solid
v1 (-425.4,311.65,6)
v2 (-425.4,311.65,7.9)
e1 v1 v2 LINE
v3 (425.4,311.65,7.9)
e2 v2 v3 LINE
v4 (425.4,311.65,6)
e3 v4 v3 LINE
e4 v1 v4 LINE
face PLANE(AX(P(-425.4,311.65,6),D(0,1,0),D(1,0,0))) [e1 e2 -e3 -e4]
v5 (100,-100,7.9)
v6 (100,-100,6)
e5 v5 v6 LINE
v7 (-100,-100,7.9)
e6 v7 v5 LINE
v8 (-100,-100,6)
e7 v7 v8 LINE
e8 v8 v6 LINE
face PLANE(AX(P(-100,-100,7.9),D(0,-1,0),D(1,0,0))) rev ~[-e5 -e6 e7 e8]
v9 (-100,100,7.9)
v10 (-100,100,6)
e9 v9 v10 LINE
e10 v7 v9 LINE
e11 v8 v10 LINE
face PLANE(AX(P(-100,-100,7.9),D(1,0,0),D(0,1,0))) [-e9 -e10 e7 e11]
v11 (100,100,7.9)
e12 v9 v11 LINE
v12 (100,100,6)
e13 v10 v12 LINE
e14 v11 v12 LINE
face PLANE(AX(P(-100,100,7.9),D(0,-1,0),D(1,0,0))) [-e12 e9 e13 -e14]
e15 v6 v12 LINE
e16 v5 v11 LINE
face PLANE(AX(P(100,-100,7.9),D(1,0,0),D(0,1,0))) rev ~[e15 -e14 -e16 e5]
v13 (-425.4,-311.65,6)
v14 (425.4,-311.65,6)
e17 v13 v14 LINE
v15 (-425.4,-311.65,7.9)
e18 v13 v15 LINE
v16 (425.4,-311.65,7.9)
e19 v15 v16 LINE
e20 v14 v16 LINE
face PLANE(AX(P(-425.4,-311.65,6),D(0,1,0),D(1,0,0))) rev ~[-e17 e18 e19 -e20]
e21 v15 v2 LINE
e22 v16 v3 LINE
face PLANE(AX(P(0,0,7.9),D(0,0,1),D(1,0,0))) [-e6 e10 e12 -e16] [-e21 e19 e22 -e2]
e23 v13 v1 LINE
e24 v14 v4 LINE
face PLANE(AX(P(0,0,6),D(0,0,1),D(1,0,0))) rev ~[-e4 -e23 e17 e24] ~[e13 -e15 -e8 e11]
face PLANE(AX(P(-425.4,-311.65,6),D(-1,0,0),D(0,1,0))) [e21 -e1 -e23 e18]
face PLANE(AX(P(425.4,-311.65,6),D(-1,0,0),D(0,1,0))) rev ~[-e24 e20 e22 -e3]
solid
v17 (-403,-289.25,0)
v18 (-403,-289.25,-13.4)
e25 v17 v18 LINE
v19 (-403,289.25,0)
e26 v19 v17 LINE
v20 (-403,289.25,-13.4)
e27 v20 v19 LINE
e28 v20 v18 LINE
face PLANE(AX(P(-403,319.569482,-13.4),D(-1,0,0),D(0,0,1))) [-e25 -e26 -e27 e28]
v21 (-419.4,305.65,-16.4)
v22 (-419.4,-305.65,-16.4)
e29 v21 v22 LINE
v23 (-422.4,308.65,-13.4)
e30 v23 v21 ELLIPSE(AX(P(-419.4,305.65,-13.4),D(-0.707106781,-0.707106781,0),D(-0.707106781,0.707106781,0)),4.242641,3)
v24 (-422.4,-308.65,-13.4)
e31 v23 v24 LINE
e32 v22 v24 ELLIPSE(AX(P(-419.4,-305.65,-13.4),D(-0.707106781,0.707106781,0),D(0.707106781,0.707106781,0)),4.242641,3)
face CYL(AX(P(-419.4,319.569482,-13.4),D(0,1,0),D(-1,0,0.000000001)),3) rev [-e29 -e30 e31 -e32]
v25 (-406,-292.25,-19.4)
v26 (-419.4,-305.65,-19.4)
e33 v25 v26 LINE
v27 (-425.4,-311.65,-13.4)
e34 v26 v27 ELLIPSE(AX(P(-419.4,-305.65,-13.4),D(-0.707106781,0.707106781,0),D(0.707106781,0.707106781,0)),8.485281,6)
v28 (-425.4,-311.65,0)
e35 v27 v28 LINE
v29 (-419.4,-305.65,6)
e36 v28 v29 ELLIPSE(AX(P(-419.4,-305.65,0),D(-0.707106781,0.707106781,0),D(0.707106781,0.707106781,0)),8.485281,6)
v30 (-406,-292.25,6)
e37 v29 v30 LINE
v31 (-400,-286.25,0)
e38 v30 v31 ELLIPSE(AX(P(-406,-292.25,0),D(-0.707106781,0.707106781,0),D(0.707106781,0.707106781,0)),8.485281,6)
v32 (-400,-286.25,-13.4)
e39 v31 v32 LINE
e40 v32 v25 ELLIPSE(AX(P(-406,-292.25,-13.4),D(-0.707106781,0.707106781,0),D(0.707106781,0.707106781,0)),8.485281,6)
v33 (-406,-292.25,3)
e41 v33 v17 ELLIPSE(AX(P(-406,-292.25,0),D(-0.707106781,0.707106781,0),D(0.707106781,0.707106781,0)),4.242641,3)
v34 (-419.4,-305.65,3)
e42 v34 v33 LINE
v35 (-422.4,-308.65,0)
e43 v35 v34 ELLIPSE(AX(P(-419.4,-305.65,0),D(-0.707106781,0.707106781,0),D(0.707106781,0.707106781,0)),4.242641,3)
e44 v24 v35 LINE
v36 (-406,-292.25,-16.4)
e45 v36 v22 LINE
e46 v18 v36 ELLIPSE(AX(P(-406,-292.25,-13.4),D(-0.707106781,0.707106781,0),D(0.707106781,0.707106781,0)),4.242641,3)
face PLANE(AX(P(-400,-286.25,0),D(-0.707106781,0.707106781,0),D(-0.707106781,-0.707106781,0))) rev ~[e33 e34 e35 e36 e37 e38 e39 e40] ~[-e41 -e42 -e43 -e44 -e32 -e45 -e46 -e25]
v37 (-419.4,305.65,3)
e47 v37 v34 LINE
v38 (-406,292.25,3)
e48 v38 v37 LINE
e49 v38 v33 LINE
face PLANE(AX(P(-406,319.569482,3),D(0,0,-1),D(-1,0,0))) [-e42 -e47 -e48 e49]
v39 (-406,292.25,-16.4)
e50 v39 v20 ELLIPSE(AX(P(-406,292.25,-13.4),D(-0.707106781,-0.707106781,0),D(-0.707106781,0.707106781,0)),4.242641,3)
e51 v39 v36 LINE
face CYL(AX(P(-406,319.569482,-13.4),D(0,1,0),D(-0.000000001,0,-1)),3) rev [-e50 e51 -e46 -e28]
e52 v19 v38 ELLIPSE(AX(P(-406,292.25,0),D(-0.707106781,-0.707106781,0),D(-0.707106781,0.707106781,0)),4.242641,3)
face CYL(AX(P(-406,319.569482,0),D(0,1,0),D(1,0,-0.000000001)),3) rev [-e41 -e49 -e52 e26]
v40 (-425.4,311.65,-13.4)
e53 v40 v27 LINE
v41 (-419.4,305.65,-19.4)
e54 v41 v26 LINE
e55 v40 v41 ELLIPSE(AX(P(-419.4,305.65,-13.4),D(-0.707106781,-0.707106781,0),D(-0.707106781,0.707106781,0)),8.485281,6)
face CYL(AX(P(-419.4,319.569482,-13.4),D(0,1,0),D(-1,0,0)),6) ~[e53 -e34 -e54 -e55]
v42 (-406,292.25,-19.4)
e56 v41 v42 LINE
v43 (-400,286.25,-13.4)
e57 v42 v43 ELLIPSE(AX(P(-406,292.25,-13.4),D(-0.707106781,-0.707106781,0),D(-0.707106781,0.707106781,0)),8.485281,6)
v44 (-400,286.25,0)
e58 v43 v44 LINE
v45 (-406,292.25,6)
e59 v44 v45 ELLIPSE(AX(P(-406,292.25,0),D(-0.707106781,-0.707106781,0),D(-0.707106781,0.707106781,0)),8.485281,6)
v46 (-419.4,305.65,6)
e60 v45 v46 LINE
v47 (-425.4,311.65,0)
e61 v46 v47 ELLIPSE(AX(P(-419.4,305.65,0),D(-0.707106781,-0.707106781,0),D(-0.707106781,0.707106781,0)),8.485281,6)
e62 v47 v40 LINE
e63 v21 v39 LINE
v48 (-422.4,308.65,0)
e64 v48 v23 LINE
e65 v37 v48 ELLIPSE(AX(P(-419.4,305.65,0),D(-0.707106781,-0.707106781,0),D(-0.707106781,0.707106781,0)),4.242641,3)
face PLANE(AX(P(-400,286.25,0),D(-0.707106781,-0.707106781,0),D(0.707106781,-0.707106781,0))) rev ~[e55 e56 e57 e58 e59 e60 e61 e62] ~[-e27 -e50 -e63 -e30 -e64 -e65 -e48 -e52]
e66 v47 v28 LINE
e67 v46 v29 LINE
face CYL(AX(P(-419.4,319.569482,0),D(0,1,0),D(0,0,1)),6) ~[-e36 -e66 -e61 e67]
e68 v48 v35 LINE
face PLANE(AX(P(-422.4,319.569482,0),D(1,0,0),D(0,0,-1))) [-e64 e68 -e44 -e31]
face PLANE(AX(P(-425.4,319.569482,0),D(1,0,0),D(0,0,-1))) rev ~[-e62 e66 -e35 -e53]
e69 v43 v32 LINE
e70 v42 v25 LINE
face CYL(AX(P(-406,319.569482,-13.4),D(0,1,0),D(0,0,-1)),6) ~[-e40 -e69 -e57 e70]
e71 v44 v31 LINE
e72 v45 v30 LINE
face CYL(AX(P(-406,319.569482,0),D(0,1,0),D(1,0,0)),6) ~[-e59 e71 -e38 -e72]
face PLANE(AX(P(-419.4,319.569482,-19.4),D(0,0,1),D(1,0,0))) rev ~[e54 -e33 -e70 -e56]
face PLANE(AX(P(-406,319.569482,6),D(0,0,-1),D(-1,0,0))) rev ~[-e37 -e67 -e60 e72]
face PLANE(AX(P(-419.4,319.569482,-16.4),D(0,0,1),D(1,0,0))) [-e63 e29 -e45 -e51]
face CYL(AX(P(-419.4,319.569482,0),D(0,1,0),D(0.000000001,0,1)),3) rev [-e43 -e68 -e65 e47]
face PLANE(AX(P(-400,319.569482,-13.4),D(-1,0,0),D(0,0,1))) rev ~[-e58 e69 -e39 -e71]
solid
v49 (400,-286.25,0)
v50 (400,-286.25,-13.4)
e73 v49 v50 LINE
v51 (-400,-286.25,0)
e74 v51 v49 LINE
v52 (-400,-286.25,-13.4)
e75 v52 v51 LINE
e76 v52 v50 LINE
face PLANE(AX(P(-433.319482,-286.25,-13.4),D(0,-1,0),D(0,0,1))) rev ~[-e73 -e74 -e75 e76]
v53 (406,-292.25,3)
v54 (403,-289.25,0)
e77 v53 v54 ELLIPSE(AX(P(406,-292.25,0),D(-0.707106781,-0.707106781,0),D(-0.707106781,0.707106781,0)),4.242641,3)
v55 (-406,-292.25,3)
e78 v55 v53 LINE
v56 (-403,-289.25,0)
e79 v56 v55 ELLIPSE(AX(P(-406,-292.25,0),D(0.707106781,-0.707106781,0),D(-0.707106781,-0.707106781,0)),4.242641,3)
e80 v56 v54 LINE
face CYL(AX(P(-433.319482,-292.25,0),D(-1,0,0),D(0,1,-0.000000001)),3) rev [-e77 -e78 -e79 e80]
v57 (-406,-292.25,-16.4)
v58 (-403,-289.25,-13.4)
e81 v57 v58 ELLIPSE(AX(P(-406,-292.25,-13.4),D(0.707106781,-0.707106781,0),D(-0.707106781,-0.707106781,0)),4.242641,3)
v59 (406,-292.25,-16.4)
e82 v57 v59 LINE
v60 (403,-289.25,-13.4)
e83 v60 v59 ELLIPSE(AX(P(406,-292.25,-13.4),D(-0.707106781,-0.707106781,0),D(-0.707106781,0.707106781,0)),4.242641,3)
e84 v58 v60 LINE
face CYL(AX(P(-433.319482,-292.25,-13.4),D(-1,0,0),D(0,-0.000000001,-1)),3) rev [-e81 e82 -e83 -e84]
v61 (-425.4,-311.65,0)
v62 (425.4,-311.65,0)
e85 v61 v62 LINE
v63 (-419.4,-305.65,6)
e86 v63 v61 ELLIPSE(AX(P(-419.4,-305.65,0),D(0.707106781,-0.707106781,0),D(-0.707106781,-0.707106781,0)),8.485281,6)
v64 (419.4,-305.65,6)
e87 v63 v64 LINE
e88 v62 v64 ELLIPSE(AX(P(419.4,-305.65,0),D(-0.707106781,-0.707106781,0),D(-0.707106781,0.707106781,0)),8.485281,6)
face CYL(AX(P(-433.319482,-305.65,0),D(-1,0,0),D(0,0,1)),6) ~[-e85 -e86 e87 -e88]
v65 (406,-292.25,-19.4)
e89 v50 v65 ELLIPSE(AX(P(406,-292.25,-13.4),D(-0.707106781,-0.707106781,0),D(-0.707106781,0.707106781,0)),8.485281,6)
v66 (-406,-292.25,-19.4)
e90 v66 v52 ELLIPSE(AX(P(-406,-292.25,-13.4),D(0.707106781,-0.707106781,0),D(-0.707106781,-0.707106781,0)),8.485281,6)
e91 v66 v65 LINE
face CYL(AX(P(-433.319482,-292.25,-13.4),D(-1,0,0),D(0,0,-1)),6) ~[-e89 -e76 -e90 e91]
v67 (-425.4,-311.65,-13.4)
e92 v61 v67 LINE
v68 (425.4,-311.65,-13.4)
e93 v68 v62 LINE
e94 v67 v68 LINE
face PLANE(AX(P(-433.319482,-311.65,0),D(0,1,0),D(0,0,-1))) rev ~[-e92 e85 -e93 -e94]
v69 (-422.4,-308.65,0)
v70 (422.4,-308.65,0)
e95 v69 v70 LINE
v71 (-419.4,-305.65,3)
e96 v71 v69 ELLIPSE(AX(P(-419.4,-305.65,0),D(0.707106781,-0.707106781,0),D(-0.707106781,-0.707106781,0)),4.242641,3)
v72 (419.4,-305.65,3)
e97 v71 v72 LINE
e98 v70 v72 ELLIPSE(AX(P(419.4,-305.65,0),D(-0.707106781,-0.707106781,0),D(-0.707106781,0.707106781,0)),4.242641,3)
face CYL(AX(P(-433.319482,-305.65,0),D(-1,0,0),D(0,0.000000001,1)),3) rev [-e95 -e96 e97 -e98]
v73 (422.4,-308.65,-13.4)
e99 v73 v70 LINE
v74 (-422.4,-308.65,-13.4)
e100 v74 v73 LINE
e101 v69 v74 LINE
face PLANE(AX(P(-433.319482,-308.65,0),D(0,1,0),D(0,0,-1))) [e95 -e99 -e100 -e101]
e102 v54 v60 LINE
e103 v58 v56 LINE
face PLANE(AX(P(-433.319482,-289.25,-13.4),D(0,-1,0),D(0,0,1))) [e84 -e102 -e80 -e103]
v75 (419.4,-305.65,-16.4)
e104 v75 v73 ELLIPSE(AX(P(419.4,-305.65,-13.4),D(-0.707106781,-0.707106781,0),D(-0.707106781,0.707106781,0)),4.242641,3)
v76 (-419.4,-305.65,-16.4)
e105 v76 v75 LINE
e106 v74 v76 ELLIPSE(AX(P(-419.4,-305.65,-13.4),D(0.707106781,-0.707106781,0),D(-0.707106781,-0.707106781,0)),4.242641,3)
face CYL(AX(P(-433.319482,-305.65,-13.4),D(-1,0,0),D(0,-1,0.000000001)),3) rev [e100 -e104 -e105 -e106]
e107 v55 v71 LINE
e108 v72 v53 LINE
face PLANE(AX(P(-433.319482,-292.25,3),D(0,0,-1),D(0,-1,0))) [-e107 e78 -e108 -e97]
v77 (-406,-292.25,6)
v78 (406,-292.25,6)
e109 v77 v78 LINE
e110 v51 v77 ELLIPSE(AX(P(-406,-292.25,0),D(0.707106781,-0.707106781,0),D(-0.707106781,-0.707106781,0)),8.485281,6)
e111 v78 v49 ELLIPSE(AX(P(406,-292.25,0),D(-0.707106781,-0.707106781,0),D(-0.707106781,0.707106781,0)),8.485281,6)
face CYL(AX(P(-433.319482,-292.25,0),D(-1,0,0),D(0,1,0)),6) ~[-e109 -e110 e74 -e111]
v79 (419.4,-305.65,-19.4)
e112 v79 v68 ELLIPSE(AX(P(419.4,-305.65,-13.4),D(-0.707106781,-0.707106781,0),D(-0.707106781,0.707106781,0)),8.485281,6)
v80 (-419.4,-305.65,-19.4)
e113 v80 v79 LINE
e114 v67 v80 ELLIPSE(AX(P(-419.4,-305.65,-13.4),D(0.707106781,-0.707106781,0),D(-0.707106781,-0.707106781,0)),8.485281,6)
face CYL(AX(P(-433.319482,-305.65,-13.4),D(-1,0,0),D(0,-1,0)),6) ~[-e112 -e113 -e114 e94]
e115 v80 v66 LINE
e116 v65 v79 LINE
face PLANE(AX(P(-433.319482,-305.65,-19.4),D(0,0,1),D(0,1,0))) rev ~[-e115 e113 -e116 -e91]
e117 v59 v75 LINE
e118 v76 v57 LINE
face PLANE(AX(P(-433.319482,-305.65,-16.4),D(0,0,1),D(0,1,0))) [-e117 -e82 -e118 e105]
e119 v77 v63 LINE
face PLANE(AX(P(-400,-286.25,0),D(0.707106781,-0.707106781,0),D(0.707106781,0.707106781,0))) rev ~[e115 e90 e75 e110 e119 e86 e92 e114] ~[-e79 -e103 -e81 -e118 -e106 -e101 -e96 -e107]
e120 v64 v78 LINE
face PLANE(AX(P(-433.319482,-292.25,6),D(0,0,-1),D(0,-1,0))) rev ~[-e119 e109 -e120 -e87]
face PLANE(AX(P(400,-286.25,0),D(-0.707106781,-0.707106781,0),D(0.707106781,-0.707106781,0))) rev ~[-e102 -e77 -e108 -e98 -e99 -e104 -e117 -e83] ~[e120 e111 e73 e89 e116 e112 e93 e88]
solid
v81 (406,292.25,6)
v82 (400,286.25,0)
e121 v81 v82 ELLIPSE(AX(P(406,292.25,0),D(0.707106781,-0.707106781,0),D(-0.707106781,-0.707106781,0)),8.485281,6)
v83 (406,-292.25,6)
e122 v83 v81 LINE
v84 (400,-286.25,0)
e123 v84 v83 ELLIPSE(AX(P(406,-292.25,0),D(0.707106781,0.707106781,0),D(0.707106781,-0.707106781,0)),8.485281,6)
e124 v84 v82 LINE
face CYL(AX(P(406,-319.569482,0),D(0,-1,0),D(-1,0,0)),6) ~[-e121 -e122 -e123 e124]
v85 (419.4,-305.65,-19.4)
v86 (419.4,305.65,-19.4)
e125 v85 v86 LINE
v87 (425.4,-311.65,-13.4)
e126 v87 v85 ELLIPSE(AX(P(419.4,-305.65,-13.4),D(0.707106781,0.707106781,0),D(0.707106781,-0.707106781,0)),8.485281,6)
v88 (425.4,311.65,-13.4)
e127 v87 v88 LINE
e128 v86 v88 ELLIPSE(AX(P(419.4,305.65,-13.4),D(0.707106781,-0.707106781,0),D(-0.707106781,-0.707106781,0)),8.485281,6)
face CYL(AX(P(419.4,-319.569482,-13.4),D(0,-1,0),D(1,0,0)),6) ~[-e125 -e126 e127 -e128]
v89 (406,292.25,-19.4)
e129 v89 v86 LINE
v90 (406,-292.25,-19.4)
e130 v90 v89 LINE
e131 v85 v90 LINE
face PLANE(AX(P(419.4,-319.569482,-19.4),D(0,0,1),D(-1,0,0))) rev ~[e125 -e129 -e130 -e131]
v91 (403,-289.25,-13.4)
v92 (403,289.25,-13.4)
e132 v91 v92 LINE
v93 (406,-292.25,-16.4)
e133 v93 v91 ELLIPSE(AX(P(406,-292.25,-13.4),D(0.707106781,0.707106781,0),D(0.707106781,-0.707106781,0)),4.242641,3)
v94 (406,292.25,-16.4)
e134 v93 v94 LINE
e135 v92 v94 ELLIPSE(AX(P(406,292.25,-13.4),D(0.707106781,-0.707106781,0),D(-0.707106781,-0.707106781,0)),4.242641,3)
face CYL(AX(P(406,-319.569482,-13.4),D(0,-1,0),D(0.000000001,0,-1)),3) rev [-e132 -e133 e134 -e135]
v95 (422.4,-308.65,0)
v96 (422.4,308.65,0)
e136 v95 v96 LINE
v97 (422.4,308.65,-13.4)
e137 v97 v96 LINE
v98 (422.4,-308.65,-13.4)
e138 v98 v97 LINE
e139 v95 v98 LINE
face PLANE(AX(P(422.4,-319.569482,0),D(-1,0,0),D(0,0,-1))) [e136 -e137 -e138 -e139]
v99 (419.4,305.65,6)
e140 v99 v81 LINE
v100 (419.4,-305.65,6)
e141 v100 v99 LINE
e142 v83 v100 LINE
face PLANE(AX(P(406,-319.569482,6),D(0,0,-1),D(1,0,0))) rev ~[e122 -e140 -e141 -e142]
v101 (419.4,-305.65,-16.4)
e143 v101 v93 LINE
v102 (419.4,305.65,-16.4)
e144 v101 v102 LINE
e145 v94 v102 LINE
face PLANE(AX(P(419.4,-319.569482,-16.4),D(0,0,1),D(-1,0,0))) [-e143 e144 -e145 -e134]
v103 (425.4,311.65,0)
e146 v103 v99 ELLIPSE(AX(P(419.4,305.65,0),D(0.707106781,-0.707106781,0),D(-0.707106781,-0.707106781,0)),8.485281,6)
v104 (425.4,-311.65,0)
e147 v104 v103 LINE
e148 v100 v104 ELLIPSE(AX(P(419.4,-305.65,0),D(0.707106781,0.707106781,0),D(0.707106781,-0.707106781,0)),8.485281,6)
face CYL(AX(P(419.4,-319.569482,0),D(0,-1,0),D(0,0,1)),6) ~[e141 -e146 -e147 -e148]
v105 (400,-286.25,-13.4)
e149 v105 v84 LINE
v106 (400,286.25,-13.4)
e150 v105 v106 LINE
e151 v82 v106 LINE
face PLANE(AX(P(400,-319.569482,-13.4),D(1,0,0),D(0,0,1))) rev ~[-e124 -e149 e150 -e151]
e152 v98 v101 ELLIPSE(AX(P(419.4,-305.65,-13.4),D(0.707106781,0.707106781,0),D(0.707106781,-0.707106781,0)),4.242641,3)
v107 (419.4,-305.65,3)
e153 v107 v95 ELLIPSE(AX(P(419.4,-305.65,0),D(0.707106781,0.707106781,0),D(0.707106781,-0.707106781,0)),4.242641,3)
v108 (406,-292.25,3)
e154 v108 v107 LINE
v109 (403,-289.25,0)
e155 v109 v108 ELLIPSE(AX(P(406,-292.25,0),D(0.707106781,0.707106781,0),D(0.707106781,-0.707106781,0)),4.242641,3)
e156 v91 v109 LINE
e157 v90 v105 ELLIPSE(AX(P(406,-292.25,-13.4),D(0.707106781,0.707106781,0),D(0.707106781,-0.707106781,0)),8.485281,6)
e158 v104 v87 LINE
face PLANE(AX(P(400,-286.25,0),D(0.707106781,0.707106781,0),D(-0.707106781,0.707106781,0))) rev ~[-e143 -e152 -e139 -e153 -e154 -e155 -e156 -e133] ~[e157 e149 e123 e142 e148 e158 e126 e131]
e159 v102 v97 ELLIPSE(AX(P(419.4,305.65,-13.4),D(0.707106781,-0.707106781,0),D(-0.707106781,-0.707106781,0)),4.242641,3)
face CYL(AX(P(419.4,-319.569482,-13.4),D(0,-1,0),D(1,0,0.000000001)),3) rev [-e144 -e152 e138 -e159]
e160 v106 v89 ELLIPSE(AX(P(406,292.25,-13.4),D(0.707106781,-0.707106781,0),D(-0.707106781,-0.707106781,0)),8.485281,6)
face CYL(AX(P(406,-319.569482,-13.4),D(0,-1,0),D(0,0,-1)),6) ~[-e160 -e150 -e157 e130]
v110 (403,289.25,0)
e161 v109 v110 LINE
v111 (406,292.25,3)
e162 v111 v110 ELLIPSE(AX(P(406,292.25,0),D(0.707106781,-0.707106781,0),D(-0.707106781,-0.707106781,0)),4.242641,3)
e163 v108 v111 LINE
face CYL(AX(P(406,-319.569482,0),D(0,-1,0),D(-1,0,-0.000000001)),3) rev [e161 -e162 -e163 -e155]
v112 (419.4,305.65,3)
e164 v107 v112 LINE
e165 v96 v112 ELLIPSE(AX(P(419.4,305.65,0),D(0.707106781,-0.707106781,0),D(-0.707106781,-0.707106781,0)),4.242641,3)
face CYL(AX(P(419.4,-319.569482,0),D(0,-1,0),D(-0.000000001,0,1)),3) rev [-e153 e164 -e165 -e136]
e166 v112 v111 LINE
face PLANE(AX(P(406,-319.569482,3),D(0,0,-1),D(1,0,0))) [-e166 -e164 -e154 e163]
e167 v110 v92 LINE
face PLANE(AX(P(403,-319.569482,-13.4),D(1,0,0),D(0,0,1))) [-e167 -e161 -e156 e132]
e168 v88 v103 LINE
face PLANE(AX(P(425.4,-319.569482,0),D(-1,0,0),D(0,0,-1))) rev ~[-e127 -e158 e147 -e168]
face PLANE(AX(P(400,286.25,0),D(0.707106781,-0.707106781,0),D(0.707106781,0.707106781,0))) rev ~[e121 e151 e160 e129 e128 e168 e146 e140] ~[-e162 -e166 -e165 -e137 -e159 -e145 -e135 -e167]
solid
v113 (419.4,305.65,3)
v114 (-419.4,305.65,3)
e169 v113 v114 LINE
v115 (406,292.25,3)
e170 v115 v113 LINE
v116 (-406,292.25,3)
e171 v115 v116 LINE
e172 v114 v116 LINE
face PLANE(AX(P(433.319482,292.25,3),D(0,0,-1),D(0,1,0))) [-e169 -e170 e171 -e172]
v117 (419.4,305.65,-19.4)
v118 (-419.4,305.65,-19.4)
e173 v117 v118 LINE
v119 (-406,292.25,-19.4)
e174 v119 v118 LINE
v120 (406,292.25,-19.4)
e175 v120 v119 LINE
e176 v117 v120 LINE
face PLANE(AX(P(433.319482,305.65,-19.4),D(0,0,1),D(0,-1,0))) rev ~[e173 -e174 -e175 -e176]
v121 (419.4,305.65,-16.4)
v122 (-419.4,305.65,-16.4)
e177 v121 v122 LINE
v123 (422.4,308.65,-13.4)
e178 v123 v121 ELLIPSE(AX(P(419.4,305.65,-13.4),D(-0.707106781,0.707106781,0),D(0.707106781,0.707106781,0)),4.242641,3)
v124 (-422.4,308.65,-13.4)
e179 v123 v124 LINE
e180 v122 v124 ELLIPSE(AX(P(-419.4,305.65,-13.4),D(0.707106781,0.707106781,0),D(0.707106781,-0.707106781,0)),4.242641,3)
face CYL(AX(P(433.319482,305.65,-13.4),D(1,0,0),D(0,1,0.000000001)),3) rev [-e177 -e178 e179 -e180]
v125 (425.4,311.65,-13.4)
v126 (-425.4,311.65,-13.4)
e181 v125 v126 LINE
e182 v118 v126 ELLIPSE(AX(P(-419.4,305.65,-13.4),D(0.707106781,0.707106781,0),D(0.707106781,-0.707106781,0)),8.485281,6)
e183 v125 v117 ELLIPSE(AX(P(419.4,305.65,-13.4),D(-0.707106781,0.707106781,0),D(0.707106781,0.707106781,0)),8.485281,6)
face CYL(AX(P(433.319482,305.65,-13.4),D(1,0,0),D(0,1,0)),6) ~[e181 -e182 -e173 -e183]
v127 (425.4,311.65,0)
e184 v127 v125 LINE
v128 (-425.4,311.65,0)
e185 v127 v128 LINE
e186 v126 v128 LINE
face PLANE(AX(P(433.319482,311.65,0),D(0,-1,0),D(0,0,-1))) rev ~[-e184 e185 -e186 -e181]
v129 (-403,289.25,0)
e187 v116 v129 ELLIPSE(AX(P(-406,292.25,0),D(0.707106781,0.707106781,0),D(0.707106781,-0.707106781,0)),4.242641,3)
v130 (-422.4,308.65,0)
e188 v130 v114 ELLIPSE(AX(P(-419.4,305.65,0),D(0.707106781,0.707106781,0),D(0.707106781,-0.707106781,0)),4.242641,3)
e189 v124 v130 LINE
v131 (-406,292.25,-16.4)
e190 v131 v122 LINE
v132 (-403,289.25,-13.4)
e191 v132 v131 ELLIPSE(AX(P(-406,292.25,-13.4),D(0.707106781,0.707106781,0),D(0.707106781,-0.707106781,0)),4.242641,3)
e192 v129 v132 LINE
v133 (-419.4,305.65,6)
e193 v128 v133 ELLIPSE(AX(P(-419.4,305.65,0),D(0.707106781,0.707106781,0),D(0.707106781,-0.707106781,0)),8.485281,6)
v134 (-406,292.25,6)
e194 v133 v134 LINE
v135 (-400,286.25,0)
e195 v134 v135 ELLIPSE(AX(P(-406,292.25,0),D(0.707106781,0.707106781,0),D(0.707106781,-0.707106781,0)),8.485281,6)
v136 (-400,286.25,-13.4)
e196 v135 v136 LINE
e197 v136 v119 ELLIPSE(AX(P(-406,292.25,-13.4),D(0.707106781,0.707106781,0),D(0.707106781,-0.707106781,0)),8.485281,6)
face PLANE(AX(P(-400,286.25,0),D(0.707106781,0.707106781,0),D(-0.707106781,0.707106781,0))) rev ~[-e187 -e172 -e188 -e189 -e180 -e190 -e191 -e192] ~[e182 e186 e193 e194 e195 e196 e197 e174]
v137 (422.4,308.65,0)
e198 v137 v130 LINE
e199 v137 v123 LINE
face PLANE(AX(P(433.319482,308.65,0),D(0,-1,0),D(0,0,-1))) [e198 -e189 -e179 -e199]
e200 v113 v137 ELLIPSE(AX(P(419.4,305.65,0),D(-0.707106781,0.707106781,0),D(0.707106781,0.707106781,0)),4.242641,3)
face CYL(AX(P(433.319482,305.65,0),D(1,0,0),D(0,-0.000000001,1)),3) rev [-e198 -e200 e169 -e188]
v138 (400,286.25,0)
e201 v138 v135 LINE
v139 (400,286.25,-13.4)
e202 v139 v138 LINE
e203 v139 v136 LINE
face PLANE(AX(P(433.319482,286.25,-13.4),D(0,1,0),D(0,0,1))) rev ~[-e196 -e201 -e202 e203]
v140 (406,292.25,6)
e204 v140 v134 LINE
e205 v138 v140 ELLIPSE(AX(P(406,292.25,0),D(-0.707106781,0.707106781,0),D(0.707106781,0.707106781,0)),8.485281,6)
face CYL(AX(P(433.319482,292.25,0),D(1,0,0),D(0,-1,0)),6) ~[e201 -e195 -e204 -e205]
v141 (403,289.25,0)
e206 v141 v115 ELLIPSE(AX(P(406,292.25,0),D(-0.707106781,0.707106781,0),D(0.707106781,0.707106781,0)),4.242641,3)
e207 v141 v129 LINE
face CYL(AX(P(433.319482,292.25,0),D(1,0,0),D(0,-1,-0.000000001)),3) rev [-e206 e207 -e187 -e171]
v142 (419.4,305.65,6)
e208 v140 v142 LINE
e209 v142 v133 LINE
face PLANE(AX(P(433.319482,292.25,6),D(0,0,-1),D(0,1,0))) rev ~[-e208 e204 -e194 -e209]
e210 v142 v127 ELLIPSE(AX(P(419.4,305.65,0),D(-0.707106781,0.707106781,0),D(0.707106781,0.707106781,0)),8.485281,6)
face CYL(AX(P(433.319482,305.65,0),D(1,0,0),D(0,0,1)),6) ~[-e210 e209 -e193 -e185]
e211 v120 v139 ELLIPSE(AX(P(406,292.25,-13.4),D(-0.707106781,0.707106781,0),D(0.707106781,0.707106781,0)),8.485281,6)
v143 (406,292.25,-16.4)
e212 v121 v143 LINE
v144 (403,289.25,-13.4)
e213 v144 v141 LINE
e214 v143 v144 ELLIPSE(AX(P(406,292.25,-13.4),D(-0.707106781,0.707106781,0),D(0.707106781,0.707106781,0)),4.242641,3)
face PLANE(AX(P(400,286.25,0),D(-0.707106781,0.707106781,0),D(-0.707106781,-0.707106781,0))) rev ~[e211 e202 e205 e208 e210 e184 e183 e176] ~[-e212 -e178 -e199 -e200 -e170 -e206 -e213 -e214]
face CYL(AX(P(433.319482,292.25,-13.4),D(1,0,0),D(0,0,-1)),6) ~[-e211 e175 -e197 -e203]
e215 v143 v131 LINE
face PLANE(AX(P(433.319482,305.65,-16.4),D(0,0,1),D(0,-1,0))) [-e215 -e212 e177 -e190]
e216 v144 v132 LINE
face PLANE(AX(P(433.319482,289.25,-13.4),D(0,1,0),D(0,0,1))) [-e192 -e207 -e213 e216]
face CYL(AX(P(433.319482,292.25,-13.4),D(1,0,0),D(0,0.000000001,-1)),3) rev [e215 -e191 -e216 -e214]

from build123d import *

# Parameters (mm, degrees)
TUBO_CUADRADO_2_X_2_X_0_25_1_DEPTH      = 605.819481564
TUBO_CUADRADO_2_X_2_X_0_25_1_DEPTH_BACK = 33.319481564
TUBO_CUADRADO_2_X_2_X_0_25_1_2_DEPTH    = 866.638963129
TUBO_CUADRADO_2_X_2_X_0_25_1_3_DEPTH    = 639.138963129
TUBO_CUADRADO_2_X_2_X_0_25_1_4_DEPTH    = 866.638963129
CROQUIS3_W                              = 850.8
CROQUIS3_H                              = 623.3
SALIENTE_EXTRUIR1_DEPTH                 = 1.9
CROQUIS4_W                              = 200
CROQUIS4_H                              = 200
CORTAR_EXTRUIR2_DEPTH                   = 10


with BuildPart() as part:
    # Sketch1 → Tubo cuadrado 2 X 2 X 0.25(1) (new, two sides: drawn at the far end of the back side and taken through both)
    with BuildSketch(Plane(origin=(-412.7, 286.25, -6.7), x_dir=(1, 0, 0), z_dir=(0, -1, 0)).offset(-TUBO_CUADRADO_2_X_2_X_0_25_1_DEPTH_BACK)):
        with BuildLine():
            Line((-6.7, -12.7), (6.7, -12.7))
            ThreePointArc((6.7, -12.7), (10.942640687, -10.942640687), (12.7, -6.7))
            Line((12.7, -6.7), (12.7, 6.7))
            ThreePointArc((12.7, 6.7), (10.942640687, 10.942640687), (6.7, 12.7))
            Line((6.7, 12.7), (-6.7, 12.7))
            ThreePointArc((-6.7, 12.7), (-10.942640687, 10.942640687), (-12.7, 6.7))
            Line((-12.7, 6.7), (-12.7, -6.7))
            ThreePointArc((-12.7, -6.7), (-10.942640687, -10.942640687), (-6.7, -12.7))
        make_face()
        with BuildLine():
            Line((-6.7, -9.7), (6.7, -9.7))
            ThreePointArc((6.7, -9.7), (8.821320344, -8.821320344), (9.7, -6.7))
            Line((9.7, -6.7), (9.7, 6.7))
            ThreePointArc((9.7, 6.7), (8.821320344, 8.821320344), (6.7, 9.7))
            Line((6.7, 9.7), (-6.7, 9.7))
            ThreePointArc((-6.7, 9.7), (-8.821320344, 8.821320344), (-9.7, 6.7))
            Line((-9.7, 6.7), (-9.7, -6.7))
            ThreePointArc((-9.7, -6.7), (-8.821320344, -8.821320344), (-6.7, -9.7))
        make_face(mode=Mode.SUBTRACT)
    extrude(amount=TUBO_CUADRADO_2_X_2_X_0_25_1_DEPTH + TUBO_CUADRADO_2_X_2_X_0_25_1_DEPTH_BACK)

    # Tubo cuadrado 2 X 2 X 0.25(1) mitre 1
    split(bisect_by=Plane(origin=(-400, 286.25, 0), x_dir=(0.707106781, -0.707106781, 0), z_dir=(-0.707106781, -0.707106781, 0)), keep=Keep.TOP)

    # Tubo cuadrado 2 X 2 X 0.25(1) mitre 2
    split(bisect_by=Plane(origin=(-400, -286.25, 0), x_dir=(-0.707106781, -0.707106781, 0), z_dir=(-0.707106781, 0.707106781, 0)), keep=Keep.TOP)


with BuildPart() as body_2:
    # Sketch1 on segment 2 (carried to segment 2) → Tubo cuadrado 2 X 2 X 0.25_1 2 (new body)
    with BuildSketch(Plane(origin=(-433.319481564, -298.95, -6.7), x_dir=(0, 1, 0), z_dir=(1, 0, 0))):
        with BuildLine():
            Line((-6.7, -12.7), (6.7, -12.7))
            ThreePointArc((6.7, -12.7), (10.942640687, -10.942640687), (12.7, -6.7))
            Line((12.7, -6.7), (12.7, 6.7))
            ThreePointArc((12.7, 6.7), (10.942640687, 10.942640687), (6.7, 12.7))
            Line((6.7, 12.7), (-6.7, 12.7))
            ThreePointArc((-6.7, 12.7), (-10.942640687, 10.942640687), (-12.7, 6.7))
            Line((-12.7, 6.7), (-12.7, -6.7))
            ThreePointArc((-12.7, -6.7), (-10.942640687, -10.942640687), (-6.7, -12.7))
        make_face()
        with BuildLine():
            Line((-6.7, -9.7), (6.7, -9.7))
            ThreePointArc((6.7, -9.7), (8.821320344, -8.821320344), (9.7, -6.7))
            Line((9.7, -6.7), (9.7, 6.7))
            ThreePointArc((9.7, 6.7), (8.821320344, 8.821320344), (6.7, 9.7))
            Line((6.7, 9.7), (-6.7, 9.7))
            ThreePointArc((-6.7, 9.7), (-8.821320344, 8.821320344), (-9.7, 6.7))
            Line((-9.7, 6.7), (-9.7, -6.7))
            ThreePointArc((-9.7, -6.7), (-8.821320344, -8.821320344), (-6.7, -9.7))
        make_face(mode=Mode.SUBTRACT)
    extrude(amount=TUBO_CUADRADO_2_X_2_X_0_25_1_2_DEPTH)

    # Tubo cuadrado 2 X 2 X 0.25_1 2 mitre 1
    split(bisect_by=Plane(origin=(-400, -286.25, 0), x_dir=(0.707106781, 0.707106781, 0), z_dir=(0.707106781, -0.707106781, 0)), keep=Keep.TOP)

    # Tubo cuadrado 2 X 2 X 0.25_1 2 mitre 2
    split(bisect_by=Plane(origin=(400, -286.25, 0), x_dir=(0.707106781, -0.707106781, 0), z_dir=(-0.707106781, -0.707106781, 0)), keep=Keep.TOP)


with BuildPart() as body_3:
    # Sketch1 on segment 3 (carried to segment 3) → Tubo cuadrado 2 X 2 X 0.25_1 3 (new body)
    with BuildSketch(Plane(origin=(412.7, -319.569481564, -6.7), x_dir=(-1, 0, 0), z_dir=(0, 1, 0))):
        with BuildLine():
            Line((-6.7, -12.7), (6.7, -12.7))
            ThreePointArc((6.7, -12.7), (10.942640687, -10.942640687), (12.7, -6.7))
            Line((12.7, -6.7), (12.7, 6.7))
            ThreePointArc((12.7, 6.7), (10.942640687, 10.942640687), (6.7, 12.7))
            Line((6.7, 12.7), (-6.7, 12.7))
            ThreePointArc((-6.7, 12.7), (-10.942640687, 10.942640687), (-12.7, 6.7))
            Line((-12.7, 6.7), (-12.7, -6.7))
            ThreePointArc((-12.7, -6.7), (-10.942640687, -10.942640687), (-6.7, -12.7))
        make_face()
        with BuildLine():
            Line((-6.7, -9.7), (6.7, -9.7))
            ThreePointArc((6.7, -9.7), (8.821320344, -8.821320344), (9.7, -6.7))
            Line((9.7, -6.7), (9.7, 6.7))
            ThreePointArc((9.7, 6.7), (8.821320344, 8.821320344), (6.7, 9.7))
            Line((6.7, 9.7), (-6.7, 9.7))
            ThreePointArc((-6.7, 9.7), (-8.821320344, 8.821320344), (-9.7, 6.7))
            Line((-9.7, 6.7), (-9.7, -6.7))
            ThreePointArc((-9.7, -6.7), (-8.821320344, -8.821320344), (-6.7, -9.7))
        make_face(mode=Mode.SUBTRACT)
    extrude(amount=TUBO_CUADRADO_2_X_2_X_0_25_1_3_DEPTH)

    # Tubo cuadrado 2 X 2 X 0.25_1 3 mitre 1
    split(bisect_by=Plane(origin=(400, 286.25, 0), x_dir=(0.707106781, 0.707106781, 0), z_dir=(0.707106781, -0.707106781, 0)), keep=Keep.TOP)

    # Tubo cuadrado 2 X 2 X 0.25_1 3 mitre 2
    split(bisect_by=Plane(origin=(400, -286.25, 0), x_dir=(-0.707106781, 0.707106781, 0), z_dir=(0.707106781, 0.707106781, 0)), keep=Keep.TOP)


with BuildPart() as body_4:
    # Sketch1 on segment 4 (carried to segment 4) → Tubo cuadrado 2 X 2 X 0.25_1 4 (new body)
    with BuildSketch(Plane(origin=(433.319481564, 298.95, -6.7), x_dir=(0, -1, 0), z_dir=(-1, 0, 0))):
        with BuildLine():
            Line((-6.7, -12.7), (6.7, -12.7))
            ThreePointArc((6.7, -12.7), (10.942640687, -10.942640687), (12.7, -6.7))
            Line((12.7, -6.7), (12.7, 6.7))
            ThreePointArc((12.7, 6.7), (10.942640687, 10.942640687), (6.7, 12.7))
            Line((6.7, 12.7), (-6.7, 12.7))
            ThreePointArc((-6.7, 12.7), (-10.942640687, 10.942640687), (-12.7, 6.7))
            Line((-12.7, 6.7), (-12.7, -6.7))
            ThreePointArc((-12.7, -6.7), (-10.942640687, -10.942640687), (-6.7, -12.7))
        make_face()
        with BuildLine():
            Line((-6.7, -9.7), (6.7, -9.7))
            ThreePointArc((6.7, -9.7), (8.821320344, -8.821320344), (9.7, -6.7))
            Line((9.7, -6.7), (9.7, 6.7))
            ThreePointArc((9.7, 6.7), (8.821320344, 8.821320344), (6.7, 9.7))
            Line((6.7, 9.7), (-6.7, 9.7))
            ThreePointArc((-6.7, 9.7), (-8.821320344, 8.821320344), (-9.7, 6.7))
            Line((-9.7, 6.7), (-9.7, -6.7))
            ThreePointArc((-9.7, -6.7), (-8.821320344, -8.821320344), (-6.7, -9.7))
        make_face(mode=Mode.SUBTRACT)
    extrude(amount=TUBO_CUADRADO_2_X_2_X_0_25_1_4_DEPTH)

    # Tubo cuadrado 2 X 2 X 0.25_1 4 mitre 1
    split(bisect_by=Plane(origin=(-400, 286.25, 0), x_dir=(-0.707106781, 0.707106781, 0), z_dir=(0.707106781, 0.707106781, 0)), keep=Keep.TOP)

    # Tubo cuadrado 2 X 2 X 0.25_1 4 mitre 2
    split(bisect_by=Plane(origin=(400, 286.25, 0), x_dir=(-0.707106781, -0.707106781, 0), z_dir=(-0.707106781, 0.707106781, 0)), keep=Keep.TOP)


with BuildPart() as body_5:
    # Croquis3 → Saliente-Extruir1 (new body)
    with BuildSketch(Plane.XY.offset(6)):
        Rectangle(CROQUIS3_W, CROQUIS3_H)
    extrude(amount=SALIENTE_EXTRUIR1_DEPTH)

    # Croquis4 → Cortar-Extruir2 (cut)
    with BuildSketch(Plane.XY.offset(7.9)):
        Rectangle(CROQUIS4_W, CROQUIS4_H)
    extrude(amount=-CORTAR_EXTRUIR2_DEPTH, mode=Mode.SUBTRACT)


solid = Compound([part.part, body_2.part, body_3.part, body_4.part, body_5.part])
